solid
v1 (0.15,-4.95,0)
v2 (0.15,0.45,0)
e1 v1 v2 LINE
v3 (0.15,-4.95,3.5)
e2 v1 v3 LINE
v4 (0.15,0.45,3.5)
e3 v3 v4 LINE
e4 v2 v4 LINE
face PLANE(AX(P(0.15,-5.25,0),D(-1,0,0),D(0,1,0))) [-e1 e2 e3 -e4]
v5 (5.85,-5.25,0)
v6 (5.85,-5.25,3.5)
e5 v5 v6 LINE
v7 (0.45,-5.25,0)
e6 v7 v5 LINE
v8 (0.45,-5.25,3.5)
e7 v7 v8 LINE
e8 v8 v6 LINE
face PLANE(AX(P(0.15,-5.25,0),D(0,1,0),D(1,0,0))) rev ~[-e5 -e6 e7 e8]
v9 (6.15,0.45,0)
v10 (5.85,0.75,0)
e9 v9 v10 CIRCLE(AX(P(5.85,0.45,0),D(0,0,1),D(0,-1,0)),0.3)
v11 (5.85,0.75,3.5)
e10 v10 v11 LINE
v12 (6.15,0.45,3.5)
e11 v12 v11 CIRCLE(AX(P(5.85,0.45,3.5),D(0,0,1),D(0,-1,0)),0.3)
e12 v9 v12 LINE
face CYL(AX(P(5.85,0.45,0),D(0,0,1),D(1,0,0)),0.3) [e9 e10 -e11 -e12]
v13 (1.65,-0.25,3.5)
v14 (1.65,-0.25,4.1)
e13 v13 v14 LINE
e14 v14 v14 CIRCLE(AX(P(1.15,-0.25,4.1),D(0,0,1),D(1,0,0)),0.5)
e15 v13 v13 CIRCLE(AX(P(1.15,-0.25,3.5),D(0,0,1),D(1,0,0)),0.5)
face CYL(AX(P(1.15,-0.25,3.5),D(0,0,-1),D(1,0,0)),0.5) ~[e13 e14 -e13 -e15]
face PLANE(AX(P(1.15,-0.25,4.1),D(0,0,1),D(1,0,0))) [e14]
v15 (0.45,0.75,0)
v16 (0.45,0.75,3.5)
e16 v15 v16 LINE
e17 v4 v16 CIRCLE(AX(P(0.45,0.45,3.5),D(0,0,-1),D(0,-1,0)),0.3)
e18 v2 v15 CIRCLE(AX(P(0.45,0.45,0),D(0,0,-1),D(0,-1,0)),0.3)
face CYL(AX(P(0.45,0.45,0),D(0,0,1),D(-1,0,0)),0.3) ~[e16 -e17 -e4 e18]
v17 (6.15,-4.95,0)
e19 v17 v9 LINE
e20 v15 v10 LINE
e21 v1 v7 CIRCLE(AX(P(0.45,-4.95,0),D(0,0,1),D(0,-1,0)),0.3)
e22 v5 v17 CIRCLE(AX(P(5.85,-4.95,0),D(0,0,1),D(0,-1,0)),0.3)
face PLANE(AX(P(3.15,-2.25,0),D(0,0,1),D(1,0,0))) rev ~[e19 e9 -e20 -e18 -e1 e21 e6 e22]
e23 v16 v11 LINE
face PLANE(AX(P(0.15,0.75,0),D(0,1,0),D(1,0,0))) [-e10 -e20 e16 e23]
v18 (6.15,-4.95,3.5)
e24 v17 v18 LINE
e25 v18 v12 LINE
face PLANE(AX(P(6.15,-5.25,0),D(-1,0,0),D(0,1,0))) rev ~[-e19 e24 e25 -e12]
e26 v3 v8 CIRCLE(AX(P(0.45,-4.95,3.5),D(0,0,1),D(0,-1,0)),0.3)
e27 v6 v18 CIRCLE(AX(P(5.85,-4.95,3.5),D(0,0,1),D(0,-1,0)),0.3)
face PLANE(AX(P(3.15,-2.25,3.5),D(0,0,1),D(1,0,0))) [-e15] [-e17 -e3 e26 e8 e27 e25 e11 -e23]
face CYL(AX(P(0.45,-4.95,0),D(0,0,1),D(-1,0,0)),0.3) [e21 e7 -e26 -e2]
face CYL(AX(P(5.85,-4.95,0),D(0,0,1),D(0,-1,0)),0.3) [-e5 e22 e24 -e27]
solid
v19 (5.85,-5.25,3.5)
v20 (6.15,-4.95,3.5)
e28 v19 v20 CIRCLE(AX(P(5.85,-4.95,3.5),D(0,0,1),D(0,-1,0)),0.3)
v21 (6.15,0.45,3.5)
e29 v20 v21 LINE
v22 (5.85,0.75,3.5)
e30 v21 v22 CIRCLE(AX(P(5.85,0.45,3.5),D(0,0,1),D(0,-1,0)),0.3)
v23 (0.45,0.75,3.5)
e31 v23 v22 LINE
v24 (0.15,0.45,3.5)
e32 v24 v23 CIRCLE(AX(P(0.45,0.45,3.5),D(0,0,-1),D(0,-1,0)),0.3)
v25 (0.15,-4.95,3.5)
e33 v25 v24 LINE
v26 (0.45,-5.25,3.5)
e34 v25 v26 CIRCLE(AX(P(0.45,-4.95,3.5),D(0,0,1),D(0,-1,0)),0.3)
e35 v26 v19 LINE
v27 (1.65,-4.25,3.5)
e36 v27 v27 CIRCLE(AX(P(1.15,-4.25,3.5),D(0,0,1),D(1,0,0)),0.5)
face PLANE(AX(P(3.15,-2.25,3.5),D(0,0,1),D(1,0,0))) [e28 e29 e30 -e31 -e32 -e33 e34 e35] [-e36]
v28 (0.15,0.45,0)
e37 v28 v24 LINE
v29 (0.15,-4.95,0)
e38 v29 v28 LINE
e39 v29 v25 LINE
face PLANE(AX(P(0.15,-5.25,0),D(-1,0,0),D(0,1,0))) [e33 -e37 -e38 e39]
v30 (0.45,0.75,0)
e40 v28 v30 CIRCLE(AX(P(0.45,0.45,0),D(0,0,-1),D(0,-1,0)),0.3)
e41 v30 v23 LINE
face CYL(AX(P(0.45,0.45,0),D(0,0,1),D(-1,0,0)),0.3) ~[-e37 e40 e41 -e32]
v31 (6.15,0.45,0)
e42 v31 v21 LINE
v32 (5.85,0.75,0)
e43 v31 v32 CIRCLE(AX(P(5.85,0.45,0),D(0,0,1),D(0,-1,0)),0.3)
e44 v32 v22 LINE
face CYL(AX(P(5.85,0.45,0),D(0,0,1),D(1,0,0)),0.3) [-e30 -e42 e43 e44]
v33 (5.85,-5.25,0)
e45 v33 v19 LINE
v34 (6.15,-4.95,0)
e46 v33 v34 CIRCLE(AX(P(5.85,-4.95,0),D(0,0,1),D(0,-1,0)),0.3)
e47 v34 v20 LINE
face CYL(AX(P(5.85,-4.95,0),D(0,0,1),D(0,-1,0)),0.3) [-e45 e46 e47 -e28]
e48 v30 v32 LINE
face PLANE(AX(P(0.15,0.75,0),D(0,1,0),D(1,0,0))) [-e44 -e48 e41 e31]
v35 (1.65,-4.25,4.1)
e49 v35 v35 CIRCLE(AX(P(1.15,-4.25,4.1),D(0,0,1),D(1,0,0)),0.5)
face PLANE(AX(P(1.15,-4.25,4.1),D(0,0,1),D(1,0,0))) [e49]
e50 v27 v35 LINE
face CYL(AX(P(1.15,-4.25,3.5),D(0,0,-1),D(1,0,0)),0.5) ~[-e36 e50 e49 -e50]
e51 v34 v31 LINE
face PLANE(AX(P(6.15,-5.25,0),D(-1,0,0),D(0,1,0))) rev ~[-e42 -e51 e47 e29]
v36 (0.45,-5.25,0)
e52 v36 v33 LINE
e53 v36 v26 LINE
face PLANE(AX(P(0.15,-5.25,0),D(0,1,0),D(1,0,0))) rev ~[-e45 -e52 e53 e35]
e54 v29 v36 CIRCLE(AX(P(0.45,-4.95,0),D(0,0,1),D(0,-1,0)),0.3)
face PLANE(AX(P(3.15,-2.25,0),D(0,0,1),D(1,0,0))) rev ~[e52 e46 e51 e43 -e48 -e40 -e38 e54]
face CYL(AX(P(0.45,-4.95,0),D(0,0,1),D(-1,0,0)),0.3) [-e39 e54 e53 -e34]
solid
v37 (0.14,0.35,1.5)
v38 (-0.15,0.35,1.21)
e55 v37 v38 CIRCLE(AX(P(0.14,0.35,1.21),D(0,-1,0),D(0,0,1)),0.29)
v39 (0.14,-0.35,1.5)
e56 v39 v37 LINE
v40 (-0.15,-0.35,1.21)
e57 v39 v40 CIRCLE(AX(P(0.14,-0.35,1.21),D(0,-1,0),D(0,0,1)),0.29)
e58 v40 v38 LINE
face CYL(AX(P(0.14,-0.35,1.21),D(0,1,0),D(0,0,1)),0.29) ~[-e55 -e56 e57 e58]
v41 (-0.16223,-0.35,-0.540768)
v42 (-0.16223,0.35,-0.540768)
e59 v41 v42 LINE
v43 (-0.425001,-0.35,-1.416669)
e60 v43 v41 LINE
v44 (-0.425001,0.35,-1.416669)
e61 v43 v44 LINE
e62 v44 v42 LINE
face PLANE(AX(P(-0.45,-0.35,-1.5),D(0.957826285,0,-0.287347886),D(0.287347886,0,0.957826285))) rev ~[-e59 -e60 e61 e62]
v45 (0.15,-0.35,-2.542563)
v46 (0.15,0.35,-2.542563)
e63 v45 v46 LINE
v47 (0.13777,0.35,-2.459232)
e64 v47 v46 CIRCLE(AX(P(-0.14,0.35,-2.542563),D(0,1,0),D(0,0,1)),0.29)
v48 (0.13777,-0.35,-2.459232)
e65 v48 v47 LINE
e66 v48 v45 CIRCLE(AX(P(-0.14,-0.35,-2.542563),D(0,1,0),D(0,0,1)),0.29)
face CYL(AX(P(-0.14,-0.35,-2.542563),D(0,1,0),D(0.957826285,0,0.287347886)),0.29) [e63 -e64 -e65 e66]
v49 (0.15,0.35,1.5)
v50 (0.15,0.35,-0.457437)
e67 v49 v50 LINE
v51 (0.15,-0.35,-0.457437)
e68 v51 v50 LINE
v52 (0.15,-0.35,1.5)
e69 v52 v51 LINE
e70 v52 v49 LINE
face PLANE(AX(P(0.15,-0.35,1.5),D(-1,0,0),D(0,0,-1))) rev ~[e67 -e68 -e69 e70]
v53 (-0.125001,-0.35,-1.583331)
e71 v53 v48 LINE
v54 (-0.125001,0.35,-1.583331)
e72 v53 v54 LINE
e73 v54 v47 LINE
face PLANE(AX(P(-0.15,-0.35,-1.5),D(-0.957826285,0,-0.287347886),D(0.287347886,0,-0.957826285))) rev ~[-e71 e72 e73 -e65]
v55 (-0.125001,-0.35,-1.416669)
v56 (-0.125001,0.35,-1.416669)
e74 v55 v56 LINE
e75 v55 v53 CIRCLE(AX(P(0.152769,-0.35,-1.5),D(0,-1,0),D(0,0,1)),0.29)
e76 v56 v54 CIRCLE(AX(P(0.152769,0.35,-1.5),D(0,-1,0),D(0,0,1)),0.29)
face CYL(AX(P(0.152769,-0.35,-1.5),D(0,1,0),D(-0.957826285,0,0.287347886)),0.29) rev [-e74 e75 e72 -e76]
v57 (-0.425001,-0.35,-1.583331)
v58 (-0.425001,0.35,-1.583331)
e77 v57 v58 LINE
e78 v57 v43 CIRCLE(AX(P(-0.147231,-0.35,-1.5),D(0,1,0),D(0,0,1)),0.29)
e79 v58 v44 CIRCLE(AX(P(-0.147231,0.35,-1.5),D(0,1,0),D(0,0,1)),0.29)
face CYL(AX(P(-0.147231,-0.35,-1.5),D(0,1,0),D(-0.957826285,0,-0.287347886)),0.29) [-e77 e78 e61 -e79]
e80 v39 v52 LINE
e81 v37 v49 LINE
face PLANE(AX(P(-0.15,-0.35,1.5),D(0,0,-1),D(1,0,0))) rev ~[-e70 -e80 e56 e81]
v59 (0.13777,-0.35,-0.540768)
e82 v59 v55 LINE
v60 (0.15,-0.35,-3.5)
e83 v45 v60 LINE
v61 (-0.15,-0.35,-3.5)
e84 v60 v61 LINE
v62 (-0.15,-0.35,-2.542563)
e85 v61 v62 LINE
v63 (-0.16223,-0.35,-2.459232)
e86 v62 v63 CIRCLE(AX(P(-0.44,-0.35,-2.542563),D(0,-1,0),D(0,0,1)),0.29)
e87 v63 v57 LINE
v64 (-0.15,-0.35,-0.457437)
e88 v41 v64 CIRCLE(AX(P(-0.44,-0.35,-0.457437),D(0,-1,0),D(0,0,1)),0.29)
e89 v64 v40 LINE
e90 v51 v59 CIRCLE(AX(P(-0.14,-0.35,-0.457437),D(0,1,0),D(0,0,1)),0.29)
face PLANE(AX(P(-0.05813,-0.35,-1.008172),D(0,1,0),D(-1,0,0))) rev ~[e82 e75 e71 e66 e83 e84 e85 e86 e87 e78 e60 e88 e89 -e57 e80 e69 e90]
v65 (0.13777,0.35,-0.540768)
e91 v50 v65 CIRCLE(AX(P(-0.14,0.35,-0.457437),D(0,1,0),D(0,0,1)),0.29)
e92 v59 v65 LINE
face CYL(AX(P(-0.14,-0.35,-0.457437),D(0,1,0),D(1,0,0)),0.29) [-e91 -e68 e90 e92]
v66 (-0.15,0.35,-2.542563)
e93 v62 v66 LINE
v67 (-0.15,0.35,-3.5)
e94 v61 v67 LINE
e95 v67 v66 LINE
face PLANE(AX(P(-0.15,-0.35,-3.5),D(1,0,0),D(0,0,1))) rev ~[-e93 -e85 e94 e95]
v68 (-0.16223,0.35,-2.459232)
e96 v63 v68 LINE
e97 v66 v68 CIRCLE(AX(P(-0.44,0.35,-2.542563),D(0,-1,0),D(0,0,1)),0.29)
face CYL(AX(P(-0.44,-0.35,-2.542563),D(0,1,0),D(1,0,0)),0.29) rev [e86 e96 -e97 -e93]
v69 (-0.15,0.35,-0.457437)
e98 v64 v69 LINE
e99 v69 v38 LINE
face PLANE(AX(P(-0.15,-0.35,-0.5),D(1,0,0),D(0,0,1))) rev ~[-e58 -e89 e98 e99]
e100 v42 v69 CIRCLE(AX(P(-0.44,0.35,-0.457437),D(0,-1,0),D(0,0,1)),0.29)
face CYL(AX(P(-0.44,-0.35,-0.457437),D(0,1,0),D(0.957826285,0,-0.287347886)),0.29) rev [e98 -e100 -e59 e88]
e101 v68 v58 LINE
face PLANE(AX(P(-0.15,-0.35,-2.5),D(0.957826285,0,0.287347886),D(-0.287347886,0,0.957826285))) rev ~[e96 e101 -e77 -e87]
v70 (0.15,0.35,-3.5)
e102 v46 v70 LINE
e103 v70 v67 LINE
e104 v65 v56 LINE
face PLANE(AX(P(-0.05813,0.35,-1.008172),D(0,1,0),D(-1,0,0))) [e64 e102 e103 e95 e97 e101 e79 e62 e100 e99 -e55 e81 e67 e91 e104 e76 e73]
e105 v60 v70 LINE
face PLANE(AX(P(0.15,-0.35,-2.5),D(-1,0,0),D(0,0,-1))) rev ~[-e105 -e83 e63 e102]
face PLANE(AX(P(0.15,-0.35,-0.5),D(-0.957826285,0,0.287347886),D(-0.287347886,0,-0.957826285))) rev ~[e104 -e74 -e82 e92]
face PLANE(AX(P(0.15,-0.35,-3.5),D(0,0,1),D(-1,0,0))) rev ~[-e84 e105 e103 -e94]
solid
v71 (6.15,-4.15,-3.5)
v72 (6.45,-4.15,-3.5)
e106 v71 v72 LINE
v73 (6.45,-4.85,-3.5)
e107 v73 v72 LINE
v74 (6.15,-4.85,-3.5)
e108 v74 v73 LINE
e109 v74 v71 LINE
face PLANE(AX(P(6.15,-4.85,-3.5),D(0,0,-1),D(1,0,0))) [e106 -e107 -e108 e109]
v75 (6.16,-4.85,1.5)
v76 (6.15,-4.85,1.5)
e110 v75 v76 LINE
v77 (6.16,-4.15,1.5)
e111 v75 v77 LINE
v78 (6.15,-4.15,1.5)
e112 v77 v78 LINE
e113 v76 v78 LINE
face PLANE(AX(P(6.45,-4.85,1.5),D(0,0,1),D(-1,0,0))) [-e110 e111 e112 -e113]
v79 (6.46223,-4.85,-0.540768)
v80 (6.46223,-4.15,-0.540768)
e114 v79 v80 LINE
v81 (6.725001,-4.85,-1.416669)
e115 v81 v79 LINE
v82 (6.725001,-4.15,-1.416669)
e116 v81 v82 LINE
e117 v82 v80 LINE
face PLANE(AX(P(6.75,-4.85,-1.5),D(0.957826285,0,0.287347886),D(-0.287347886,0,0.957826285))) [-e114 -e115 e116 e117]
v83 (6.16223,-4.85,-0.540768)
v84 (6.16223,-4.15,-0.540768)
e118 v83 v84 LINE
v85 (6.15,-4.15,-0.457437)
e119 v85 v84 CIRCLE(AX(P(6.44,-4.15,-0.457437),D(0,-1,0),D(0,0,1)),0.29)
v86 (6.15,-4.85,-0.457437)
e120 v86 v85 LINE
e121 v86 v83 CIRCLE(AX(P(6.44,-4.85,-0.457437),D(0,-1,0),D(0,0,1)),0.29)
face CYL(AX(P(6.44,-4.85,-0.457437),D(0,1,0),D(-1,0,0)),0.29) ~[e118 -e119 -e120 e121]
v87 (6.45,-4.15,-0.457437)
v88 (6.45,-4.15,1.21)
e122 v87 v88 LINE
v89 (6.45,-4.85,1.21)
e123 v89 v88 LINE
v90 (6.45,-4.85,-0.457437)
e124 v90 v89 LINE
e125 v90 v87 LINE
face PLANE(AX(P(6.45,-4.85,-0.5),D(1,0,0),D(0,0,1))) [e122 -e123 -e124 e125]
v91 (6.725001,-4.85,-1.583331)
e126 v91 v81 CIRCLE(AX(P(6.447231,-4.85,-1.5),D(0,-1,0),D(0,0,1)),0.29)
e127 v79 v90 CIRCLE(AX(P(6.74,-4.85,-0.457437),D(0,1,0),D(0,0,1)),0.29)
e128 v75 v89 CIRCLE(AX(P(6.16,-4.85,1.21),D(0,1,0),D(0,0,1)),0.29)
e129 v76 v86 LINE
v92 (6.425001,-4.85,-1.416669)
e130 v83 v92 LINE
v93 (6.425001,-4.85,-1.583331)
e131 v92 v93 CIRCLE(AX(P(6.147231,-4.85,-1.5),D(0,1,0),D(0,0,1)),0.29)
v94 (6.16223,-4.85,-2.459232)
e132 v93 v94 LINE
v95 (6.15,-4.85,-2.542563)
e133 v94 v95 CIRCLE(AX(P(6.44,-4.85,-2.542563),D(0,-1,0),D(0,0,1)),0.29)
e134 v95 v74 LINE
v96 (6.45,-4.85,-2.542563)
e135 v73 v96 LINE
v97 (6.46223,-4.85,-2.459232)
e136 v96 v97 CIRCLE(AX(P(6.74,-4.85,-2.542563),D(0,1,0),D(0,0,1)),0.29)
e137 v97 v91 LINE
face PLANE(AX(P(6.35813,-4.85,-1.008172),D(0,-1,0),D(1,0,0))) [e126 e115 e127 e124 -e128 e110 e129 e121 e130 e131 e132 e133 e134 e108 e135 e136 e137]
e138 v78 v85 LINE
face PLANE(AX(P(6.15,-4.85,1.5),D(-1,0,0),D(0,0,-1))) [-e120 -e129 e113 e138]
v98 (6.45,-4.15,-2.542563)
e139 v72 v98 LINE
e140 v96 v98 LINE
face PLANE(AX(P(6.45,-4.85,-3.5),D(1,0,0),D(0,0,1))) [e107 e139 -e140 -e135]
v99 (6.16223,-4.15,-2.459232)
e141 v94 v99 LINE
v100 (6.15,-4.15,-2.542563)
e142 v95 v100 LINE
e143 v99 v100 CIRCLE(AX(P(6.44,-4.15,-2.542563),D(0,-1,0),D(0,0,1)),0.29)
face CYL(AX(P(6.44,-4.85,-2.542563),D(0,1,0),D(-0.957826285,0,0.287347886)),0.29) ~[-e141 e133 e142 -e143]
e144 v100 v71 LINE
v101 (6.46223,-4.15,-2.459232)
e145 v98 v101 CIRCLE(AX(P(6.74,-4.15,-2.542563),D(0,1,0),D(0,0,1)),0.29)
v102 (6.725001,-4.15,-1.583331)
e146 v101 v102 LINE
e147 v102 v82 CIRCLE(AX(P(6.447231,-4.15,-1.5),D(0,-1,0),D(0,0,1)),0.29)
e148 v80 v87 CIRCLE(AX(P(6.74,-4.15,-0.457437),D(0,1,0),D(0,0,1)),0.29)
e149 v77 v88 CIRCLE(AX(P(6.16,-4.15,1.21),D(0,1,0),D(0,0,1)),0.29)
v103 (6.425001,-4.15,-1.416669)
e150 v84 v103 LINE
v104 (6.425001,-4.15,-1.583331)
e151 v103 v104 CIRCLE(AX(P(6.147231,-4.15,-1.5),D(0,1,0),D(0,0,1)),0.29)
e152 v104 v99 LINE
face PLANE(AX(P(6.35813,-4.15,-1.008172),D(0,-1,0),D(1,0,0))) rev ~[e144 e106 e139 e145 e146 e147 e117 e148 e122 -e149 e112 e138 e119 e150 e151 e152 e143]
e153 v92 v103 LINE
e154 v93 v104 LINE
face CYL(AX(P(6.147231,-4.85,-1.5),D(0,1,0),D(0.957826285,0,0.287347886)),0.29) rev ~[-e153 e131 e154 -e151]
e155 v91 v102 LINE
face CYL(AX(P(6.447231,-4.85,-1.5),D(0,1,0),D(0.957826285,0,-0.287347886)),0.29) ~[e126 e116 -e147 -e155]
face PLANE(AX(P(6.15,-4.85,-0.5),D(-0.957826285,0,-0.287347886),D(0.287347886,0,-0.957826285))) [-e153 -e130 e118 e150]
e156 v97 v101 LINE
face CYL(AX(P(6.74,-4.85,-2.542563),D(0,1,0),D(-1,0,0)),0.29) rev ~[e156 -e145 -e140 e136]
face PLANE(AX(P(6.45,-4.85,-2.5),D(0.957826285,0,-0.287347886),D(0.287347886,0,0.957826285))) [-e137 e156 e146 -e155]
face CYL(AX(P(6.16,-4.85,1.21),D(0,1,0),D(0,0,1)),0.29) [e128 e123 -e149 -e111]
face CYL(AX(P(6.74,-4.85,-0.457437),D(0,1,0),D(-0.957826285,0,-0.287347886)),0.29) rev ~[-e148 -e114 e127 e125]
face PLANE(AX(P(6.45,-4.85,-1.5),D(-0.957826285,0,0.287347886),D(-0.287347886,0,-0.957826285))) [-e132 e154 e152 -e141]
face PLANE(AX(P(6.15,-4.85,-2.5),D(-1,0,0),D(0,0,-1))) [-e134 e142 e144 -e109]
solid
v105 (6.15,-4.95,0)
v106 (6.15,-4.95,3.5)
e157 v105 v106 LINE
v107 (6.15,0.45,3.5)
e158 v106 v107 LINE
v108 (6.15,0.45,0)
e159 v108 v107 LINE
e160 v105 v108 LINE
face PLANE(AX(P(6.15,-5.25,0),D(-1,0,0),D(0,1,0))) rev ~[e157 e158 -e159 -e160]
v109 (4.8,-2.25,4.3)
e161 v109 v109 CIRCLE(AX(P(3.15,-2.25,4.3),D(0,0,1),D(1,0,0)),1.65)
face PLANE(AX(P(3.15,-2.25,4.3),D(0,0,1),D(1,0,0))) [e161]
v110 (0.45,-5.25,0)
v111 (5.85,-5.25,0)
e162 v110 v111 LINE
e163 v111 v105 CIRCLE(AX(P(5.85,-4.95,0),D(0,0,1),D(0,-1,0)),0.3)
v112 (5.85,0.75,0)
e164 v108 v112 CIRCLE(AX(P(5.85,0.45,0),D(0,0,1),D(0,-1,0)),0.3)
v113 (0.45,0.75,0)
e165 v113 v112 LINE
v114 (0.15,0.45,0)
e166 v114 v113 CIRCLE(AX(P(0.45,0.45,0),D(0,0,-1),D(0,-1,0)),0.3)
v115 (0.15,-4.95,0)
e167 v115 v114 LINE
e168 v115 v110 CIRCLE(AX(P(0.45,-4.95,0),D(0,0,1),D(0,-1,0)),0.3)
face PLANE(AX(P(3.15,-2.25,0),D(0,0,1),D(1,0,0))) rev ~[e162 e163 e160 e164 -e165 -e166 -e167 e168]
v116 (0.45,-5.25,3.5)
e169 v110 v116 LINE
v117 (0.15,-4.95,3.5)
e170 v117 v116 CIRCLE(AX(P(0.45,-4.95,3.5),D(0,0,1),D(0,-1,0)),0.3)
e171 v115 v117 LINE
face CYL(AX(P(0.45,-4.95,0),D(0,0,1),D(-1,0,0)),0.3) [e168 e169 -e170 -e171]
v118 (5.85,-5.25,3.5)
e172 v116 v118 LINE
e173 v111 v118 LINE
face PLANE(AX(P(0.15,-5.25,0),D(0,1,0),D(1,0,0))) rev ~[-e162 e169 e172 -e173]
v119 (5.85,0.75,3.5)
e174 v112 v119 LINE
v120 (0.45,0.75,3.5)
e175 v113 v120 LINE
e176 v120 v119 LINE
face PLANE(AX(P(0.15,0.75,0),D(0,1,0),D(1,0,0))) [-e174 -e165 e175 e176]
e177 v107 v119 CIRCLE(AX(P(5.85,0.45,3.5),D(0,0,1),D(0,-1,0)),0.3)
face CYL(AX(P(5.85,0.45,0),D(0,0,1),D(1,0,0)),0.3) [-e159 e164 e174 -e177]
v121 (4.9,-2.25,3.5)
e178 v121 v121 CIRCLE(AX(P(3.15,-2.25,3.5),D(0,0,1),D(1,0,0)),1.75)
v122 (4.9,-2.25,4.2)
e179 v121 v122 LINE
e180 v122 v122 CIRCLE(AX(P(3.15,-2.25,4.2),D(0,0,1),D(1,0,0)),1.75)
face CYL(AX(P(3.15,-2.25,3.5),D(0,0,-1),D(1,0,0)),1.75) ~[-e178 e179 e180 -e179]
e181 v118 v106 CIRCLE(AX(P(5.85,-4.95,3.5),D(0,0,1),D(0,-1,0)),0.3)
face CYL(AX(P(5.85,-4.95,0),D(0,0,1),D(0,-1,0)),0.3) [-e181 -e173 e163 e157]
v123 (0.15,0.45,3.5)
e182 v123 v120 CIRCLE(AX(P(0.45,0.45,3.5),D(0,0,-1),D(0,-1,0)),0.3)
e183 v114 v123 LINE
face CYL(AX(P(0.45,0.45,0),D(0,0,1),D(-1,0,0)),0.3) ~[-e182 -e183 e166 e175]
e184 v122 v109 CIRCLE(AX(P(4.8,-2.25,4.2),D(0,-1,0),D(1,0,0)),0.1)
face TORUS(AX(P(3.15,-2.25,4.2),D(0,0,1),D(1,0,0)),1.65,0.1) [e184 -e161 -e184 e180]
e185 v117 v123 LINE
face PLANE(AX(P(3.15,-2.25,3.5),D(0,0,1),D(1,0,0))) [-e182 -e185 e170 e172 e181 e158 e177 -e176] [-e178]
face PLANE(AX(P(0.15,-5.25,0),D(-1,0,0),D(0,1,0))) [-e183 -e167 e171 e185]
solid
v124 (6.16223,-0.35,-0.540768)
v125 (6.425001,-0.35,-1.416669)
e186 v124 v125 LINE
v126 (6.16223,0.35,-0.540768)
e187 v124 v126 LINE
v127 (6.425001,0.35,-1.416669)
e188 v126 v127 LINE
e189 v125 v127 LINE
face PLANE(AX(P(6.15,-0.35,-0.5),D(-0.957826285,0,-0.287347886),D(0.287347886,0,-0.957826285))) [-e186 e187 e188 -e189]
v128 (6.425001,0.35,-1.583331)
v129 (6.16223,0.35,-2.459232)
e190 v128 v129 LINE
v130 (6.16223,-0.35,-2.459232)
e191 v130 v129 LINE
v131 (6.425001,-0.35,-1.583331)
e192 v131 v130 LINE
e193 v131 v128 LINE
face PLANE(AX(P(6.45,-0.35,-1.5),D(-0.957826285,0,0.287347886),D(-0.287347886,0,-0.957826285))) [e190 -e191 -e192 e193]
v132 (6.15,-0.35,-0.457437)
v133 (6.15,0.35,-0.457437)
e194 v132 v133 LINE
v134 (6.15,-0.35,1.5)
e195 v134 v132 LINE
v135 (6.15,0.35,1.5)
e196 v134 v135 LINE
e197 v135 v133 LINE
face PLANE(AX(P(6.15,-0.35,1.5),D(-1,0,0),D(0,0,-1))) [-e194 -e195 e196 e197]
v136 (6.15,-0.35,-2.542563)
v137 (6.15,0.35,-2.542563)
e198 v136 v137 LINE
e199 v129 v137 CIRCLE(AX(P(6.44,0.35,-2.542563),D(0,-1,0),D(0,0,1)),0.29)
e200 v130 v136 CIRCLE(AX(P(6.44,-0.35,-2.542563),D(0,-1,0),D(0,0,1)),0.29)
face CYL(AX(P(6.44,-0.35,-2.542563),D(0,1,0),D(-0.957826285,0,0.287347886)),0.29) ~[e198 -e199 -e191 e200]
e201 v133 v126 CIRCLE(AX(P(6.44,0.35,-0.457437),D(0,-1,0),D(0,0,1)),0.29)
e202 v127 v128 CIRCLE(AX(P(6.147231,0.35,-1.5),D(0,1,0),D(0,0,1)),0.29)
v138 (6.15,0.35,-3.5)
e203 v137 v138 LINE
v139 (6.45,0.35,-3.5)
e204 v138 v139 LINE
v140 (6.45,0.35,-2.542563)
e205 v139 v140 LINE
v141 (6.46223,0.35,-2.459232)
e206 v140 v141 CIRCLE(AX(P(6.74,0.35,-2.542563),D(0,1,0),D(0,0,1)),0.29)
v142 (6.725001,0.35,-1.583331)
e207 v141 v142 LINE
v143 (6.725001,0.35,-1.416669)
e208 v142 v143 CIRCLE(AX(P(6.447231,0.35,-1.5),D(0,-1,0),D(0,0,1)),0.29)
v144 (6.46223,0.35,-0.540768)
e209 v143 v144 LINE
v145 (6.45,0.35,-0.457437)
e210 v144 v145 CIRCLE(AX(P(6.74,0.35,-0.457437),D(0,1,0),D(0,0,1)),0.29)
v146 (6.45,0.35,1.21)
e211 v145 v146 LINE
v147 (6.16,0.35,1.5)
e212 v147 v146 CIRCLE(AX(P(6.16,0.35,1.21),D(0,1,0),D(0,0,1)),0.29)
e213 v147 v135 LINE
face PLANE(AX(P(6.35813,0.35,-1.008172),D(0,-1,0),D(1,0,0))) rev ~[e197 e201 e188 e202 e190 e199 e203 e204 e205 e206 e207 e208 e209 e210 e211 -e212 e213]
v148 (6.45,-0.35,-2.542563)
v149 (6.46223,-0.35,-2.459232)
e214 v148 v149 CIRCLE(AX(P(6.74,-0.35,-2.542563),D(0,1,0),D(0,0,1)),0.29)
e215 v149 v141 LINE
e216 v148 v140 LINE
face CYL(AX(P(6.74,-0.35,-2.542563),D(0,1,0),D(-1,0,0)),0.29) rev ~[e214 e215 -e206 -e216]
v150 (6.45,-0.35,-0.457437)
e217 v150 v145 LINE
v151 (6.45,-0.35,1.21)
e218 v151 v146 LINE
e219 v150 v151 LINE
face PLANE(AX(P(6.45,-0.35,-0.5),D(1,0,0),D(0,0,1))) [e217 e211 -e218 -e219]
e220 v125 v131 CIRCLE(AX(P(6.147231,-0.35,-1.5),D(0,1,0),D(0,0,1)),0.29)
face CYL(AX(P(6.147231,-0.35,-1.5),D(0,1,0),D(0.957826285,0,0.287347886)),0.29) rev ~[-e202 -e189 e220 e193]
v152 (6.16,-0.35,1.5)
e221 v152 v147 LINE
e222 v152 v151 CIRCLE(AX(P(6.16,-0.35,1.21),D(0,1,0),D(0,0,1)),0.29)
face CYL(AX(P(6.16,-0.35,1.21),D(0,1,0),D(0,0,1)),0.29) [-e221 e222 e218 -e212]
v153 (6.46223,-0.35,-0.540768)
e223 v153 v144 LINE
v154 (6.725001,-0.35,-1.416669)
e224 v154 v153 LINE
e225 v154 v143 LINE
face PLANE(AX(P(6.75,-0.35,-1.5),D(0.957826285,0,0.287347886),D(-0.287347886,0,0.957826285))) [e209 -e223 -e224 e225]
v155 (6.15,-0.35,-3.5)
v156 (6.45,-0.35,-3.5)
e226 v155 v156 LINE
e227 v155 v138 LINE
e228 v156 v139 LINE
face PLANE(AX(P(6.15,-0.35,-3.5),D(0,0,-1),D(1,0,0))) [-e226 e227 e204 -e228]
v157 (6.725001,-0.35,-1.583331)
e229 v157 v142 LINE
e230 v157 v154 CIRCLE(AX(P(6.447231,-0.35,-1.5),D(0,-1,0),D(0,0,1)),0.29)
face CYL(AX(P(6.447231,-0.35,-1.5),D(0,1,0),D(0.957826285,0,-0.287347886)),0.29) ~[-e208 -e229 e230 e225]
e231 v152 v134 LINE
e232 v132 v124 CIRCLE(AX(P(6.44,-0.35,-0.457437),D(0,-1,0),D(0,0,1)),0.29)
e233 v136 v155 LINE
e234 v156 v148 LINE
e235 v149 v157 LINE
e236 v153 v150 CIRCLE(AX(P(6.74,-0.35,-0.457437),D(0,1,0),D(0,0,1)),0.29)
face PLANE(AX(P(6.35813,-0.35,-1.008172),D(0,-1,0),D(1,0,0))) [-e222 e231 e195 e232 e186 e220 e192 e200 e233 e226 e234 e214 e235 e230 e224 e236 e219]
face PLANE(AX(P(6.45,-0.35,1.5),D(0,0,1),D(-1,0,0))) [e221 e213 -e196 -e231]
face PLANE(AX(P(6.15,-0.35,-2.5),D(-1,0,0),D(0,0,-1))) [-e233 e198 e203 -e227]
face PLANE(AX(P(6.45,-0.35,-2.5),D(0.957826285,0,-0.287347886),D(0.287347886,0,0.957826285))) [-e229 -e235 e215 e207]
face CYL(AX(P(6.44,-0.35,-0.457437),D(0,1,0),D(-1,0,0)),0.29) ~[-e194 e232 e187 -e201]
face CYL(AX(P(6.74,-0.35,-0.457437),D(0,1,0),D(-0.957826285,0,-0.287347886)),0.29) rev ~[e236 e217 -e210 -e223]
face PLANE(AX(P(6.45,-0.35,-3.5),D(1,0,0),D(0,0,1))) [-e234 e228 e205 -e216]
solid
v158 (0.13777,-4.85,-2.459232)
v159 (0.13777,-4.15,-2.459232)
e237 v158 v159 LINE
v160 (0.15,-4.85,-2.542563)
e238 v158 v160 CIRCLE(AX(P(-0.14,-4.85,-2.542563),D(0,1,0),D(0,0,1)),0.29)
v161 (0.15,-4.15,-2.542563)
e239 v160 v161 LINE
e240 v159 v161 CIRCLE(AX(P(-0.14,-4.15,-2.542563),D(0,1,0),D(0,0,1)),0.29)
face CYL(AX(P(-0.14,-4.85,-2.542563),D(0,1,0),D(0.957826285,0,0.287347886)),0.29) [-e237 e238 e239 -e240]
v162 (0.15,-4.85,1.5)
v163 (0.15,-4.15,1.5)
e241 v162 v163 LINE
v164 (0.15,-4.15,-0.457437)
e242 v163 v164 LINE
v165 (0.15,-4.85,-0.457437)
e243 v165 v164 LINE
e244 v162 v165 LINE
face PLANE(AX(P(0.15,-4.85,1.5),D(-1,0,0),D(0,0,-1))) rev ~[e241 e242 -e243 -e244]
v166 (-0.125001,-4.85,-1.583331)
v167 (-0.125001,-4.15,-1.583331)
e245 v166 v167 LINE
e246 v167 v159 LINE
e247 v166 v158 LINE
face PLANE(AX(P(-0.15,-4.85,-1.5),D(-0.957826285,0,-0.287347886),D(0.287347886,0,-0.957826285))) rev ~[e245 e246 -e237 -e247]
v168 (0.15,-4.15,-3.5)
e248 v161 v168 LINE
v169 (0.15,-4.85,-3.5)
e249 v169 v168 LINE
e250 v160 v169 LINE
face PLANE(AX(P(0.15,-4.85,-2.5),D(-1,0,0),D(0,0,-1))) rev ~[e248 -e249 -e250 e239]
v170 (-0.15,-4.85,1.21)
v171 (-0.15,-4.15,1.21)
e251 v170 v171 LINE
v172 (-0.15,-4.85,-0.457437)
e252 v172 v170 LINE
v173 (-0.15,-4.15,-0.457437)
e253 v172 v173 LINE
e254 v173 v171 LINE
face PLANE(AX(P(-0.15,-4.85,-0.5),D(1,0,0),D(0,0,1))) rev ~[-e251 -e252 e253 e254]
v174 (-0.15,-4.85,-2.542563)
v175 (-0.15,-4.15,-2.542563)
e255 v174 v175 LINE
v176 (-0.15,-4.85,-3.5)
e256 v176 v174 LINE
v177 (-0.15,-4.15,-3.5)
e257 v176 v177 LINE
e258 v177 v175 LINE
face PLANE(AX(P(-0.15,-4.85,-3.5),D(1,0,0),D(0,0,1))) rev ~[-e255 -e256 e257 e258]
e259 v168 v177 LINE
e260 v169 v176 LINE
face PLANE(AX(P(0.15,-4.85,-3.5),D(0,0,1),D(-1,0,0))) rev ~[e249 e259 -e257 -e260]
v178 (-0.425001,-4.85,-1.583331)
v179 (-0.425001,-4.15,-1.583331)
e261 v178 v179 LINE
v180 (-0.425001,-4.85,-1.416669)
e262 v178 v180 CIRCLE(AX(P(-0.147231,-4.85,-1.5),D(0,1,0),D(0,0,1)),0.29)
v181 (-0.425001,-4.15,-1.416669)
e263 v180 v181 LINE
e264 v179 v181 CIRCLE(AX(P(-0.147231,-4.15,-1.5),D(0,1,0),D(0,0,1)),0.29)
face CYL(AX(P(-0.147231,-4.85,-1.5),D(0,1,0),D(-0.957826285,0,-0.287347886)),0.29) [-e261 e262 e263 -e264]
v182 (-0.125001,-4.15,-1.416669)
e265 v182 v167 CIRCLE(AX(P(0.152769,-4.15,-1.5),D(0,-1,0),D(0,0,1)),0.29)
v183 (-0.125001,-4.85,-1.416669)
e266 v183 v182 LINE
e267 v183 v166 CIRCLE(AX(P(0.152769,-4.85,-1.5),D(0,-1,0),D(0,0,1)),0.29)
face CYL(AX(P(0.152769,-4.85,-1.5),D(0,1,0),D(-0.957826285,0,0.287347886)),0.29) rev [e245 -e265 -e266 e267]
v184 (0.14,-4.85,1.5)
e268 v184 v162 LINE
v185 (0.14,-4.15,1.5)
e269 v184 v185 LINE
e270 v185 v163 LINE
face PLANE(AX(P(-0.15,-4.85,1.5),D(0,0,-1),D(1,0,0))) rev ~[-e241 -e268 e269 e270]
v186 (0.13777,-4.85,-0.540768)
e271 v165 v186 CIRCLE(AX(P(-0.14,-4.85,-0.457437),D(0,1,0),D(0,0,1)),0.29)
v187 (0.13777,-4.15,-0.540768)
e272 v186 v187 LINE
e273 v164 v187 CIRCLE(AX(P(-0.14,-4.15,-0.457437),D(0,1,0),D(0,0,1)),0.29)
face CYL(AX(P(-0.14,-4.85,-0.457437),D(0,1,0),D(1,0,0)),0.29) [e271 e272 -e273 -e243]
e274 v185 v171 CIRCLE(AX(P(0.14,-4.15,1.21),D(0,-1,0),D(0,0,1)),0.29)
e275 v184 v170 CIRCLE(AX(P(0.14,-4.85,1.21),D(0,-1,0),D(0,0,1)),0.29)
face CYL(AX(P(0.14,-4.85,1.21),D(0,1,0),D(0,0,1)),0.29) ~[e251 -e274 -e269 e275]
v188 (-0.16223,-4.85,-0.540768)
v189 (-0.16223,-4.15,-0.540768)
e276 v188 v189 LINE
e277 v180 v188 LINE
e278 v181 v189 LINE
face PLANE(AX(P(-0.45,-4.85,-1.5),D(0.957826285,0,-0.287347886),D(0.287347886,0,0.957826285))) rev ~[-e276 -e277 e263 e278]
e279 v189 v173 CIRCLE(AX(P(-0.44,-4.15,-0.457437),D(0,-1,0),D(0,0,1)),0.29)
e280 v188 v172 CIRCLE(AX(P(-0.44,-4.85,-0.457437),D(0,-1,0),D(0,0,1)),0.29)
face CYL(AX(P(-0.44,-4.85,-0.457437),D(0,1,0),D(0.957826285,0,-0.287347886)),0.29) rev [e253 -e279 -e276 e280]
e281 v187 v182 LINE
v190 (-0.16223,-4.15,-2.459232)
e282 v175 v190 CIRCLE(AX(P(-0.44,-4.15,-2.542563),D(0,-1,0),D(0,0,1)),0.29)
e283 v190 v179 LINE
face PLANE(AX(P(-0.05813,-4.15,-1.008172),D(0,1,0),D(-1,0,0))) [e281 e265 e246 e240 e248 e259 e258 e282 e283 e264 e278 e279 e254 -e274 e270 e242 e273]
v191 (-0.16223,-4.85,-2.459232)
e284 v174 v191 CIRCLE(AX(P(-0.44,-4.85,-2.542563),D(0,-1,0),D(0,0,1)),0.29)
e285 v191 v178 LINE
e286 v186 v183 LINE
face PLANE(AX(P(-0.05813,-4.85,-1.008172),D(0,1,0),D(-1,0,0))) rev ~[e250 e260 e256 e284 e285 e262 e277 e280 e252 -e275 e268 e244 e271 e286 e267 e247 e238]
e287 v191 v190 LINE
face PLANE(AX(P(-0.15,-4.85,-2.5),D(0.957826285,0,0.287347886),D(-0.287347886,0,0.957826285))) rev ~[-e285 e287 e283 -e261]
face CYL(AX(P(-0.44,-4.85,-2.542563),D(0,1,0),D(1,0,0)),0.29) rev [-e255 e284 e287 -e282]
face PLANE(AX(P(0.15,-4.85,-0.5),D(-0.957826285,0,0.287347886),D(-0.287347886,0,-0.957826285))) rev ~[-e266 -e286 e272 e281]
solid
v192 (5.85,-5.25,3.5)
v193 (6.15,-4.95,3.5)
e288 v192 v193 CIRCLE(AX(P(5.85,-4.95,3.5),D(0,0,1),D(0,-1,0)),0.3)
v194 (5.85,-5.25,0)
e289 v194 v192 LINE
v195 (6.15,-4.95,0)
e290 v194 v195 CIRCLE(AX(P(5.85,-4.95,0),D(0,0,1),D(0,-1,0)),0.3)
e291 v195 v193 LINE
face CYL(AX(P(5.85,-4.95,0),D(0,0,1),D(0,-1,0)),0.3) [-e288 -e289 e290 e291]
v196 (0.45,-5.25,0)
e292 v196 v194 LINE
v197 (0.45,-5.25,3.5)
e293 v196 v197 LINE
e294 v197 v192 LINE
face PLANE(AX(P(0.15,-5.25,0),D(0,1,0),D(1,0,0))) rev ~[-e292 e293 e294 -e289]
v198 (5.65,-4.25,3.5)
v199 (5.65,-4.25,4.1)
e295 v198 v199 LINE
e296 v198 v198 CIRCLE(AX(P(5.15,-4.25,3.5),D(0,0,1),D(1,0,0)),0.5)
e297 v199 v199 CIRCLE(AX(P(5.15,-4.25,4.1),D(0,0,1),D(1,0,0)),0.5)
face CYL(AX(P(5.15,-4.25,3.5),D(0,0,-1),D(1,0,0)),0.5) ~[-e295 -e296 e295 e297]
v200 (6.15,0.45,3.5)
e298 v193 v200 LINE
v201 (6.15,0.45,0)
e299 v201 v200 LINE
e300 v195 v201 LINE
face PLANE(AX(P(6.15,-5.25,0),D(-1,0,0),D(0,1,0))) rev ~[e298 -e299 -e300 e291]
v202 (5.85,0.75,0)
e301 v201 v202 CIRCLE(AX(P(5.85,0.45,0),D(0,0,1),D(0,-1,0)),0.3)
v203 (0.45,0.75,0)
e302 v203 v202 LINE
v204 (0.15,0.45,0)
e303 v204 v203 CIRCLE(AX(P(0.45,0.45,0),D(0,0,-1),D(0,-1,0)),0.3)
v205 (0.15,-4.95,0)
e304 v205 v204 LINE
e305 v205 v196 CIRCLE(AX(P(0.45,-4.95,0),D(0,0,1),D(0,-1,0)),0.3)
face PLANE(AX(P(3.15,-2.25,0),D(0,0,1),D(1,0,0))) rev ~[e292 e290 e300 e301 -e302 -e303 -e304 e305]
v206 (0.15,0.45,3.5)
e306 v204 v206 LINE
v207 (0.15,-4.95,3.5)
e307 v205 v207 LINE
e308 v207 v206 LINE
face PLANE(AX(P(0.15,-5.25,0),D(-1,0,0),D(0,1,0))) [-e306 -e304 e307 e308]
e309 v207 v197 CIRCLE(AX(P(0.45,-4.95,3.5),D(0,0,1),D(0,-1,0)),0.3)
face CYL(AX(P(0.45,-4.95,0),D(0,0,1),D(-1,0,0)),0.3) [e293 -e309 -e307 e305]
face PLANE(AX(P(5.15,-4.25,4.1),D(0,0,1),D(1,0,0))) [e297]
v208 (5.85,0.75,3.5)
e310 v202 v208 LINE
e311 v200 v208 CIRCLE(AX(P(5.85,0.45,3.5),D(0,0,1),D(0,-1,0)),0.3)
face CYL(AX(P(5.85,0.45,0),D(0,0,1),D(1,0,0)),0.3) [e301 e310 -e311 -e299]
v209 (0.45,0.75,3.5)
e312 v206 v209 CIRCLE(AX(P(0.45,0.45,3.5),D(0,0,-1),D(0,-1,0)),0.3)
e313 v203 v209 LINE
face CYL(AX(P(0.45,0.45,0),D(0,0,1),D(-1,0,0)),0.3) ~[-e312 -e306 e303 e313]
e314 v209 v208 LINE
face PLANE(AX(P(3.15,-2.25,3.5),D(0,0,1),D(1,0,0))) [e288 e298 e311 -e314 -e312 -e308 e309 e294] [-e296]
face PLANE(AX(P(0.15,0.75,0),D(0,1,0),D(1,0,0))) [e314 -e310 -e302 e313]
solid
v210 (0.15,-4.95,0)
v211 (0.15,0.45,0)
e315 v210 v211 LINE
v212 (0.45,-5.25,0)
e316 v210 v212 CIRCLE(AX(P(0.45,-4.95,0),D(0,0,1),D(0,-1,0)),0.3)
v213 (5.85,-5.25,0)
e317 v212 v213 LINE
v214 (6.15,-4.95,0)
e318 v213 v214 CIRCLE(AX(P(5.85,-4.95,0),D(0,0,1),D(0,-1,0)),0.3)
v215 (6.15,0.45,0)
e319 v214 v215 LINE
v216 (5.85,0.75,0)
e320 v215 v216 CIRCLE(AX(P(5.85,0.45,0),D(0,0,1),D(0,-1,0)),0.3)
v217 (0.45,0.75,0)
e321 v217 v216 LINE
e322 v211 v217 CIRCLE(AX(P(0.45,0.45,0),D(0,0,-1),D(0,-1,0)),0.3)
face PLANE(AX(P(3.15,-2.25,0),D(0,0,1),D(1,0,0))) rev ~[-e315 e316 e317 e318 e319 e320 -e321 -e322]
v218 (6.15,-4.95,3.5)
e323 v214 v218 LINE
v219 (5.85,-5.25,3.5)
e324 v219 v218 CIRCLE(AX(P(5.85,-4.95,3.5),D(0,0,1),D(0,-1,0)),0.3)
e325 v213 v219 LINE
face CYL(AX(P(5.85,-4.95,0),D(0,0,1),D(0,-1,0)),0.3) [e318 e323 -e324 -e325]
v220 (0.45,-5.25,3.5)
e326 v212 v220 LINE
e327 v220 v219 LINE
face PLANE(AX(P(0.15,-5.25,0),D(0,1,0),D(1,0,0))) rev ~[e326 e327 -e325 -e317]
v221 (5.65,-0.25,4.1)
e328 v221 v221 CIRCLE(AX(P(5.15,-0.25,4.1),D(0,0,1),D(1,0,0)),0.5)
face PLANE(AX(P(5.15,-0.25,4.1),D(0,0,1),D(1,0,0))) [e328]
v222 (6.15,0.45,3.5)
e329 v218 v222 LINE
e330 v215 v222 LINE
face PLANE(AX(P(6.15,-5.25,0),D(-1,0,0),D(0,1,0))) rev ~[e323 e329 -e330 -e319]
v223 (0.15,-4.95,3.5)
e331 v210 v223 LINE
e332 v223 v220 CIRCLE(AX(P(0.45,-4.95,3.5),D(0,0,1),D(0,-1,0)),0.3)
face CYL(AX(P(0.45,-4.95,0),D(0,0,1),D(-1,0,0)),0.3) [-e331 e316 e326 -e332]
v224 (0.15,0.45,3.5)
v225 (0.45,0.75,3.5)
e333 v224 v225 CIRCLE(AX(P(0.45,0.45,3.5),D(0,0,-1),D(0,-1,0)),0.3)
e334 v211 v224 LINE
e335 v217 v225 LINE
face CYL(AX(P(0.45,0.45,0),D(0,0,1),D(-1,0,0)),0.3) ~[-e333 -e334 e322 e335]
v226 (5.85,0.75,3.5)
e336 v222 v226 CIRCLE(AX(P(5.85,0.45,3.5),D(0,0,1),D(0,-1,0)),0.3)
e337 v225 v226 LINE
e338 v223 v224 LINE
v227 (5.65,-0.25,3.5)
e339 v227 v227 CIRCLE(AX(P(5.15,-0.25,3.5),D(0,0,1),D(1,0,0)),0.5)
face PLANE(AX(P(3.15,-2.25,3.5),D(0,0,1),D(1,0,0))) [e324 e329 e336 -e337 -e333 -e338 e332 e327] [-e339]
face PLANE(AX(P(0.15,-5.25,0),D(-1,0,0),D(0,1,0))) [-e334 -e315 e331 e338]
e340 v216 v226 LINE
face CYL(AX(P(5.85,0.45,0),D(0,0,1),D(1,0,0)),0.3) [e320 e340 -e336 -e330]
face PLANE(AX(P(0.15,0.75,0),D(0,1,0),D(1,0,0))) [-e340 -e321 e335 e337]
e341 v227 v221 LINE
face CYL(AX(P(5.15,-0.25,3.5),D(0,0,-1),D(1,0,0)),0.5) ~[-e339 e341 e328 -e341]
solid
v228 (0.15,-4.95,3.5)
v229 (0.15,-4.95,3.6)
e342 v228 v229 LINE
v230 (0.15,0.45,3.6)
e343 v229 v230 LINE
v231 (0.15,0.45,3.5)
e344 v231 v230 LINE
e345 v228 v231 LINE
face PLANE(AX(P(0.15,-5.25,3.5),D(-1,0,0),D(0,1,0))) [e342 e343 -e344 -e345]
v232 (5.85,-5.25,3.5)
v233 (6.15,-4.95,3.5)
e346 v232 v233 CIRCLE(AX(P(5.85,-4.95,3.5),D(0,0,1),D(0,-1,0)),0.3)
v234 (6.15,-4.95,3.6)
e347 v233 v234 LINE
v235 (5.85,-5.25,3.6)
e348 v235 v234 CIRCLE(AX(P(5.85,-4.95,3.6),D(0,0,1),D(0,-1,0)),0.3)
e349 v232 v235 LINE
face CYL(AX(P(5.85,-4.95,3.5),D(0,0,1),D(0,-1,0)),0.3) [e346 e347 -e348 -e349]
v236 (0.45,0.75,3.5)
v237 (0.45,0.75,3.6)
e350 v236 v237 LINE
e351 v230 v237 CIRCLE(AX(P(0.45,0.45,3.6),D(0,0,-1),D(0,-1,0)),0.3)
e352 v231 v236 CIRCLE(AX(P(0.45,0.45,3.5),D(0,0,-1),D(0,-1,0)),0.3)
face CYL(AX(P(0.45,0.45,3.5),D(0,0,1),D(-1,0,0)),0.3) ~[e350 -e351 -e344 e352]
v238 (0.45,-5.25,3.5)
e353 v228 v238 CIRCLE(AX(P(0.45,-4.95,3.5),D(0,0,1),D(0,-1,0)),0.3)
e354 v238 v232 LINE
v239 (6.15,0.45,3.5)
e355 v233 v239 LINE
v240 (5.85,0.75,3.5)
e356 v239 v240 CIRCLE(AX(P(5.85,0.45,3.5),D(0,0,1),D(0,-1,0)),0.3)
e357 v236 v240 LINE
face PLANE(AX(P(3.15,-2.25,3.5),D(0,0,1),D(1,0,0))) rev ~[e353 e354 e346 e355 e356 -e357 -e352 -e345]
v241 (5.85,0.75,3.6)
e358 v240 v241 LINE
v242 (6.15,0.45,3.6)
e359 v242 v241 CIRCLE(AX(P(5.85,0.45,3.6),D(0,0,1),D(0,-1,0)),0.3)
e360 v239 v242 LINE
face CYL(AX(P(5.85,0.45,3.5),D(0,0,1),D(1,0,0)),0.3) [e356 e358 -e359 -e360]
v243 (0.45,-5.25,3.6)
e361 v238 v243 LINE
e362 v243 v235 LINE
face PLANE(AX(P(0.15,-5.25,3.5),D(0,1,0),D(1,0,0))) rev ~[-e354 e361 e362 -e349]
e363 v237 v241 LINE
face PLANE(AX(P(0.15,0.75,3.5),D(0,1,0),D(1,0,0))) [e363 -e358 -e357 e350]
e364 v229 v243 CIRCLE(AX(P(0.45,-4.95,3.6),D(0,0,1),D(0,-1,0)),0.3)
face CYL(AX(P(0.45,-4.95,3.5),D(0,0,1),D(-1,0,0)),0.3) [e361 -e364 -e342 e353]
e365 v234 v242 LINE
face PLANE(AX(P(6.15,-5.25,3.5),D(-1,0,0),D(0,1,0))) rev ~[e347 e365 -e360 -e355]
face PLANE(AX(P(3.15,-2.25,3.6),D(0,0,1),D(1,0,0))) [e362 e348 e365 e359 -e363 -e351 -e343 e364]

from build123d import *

# Parameters (mm, degrees)
SKETCH001_W  = 6
SKETCH001_H  = 6
PAD001_DEPTH = 0.1
FILLET001_R  = 0.3
SKETCH_W     = 6
SKETCH_H     = 6
PAD_DEPTH    = 3.5
FILLET_R     = 0.3
SKETCH005_R  = 0.5
PAD002_DEPTH = 0.6
SKETCH004_R  = 0.5
PAD003_DEPTH = 0.6
SKETCH003_R  = 0.5
PAD004_DEPTH = 0.6
SKETCH002_R  = 0.5
PAD005_DEPTH = 0.6
PAD007_DEPTH = 0.7
FILLET002_R  = 0.29
PAD008_DEPTH = 0.7
FILLET003_R  = 0.29
PAD009_DEPTH = 0.7
FILLET004_R  = 0.29
PAD010_DEPTH = 0.7
FILLET005_R  = 0.29
SKETCH006_R  = 1.75
PAD006_DEPTH = 0.8
FILLET006_R  = 0.1


with BuildPart() as fillet001:
    # Sketch001 → Pad001 (new body)
    with BuildSketch(Plane.XY.offset(3.5)):
        with Locations((3.15, -2.25)):
            Rectangle(SKETCH001_W, SKETCH001_H)
    extrude(amount=PAD001_DEPTH)

    # Fillet001
    fillet001_edges = [fillet001.edges().sort_by_distance(p)[0] for p in [
        (6.15, -5.25, 3.55),
        (0.15, -5.25, 3.55),
        (6.15, 0.75, 3.55),
        (0.15, 0.75, 3.55),
    ]]
    fillet(fillet001_edges, radius=FILLET001_R)


with BuildPart() as fillet_body:
    # Sketch → Pad (new body)
    with BuildSketch(Plane.XY):
        with Locations((3.15, -2.25)):
            Rectangle(SKETCH_W, SKETCH_H)
    extrude(amount=PAD_DEPTH)

    # Fillet
    fillet_edges = [fillet_body.edges().sort_by_distance(p)[0] for p in [
        (6.15, 0.75, 1.75),
        (6.15, -5.25, 1.75),
        (0.15, -5.25, 1.75),
        (0.15, 0.75, 1.75),
    ]]
    fillet(fillet_edges, radius=FILLET_R)


with BuildPart() as pad002:
    # Pad002 base: copy of Fillet body
    add(fillet_body.part)

    # Sketch005 → Pad002 (new body)
    with BuildSketch(Plane.XY.offset(3.5)):
        with Locations((1.15, -0.25)):
            Circle(SKETCH005_R)
    extrude(amount=PAD002_DEPTH)


with BuildPart() as pad003:
    # Pad003 base: copy of Fillet body
    add(fillet_body.part)

    # Sketch004 → Pad003 (new body)
    with BuildSketch(Plane.XY.offset(3.5)):
        with Locations((5.15, -0.25)):
            Circle(SKETCH004_R)
    extrude(amount=PAD003_DEPTH)


with BuildPart() as pad004:
    # Pad004 base: copy of Fillet body
    add(fillet_body.part)

    # Sketch003 → Pad004 (new body)
    with BuildSketch(Plane.XY.offset(3.5)):
        with Locations((5.15, -4.25)):
            Circle(SKETCH003_R)
    extrude(amount=PAD004_DEPTH)


with BuildPart() as pad005:
    # Pad005 base: copy of Fillet body
    add(fillet_body.part)

    # Sketch002 → Pad005 (new body)
    with BuildSketch(Plane.XY.offset(3.5)):
        with Locations((1.15, -4.25)):
            Circle(SKETCH002_R)
    extrude(amount=PAD005_DEPTH)


with BuildPart() as fillet002:
    # Sketch007 → Pad007 (new body)
    with BuildSketch(Plane.XZ.offset(4.85)):
        Polygon((-0.15, 1.5), (0.15, 1.5), (0.15, -0.5), (-0.15, -1.5), (0.15, -2.5), (0.15, -3.5), (-0.15, -3.5), (-0.15, -2.5), (-0.45, -1.5), (-0.15, -0.5), align=None)
    extrude(amount=-PAD007_DEPTH)

    # Fillet002
    fillet002_edges = [fillet002.edges().sort_by_distance(p)[0] for p in [
        (-0.15, -4.5, -2.5),
        (-0.15, -4.5, -0.5),
        (-0.45, -4.5, -1.5),
        (-0.15, -4.5, 1.5),
        (0.15, -4.5, -0.5),
        (-0.15, -4.5, -1.5),
        (0.15, -4.5, -2.5),
    ]]
    fillet(fillet002_edges, radius=FILLET002_R)


with BuildPart() as fillet003:
    # Sketch008 → Pad008 (new body)
    with BuildSketch(Plane.XZ.offset(0.35)):
        Polygon((-0.15, 1.5), (0.15, 1.5), (0.15, -0.5), (-0.15, -1.5), (0.15, -2.5), (0.15, -3.5), (-0.15, -3.5), (-0.15, -2.5), (-0.45, -1.5), (-0.15, -0.5), align=None)
    extrude(amount=-PAD008_DEPTH)

    # Fillet003
    fillet003_edges = [fillet003.edges().sort_by_distance(p)[0] for p in [
        (-0.15, 0, -2.5),
        (-0.15, 0, -0.5),
        (-0.45, 0, -1.5),
        (-0.15, 0, 1.5),
        (0.15, 0, -0.5),
        (-0.15, 0, -1.5),
        (0.15, 0, -2.5),
    ]]
    fillet(fillet003_edges, radius=FILLET003_R)


with BuildPart() as fillet004:
    # Sketch009 → Pad009 (new body)
    with BuildSketch(Plane.XZ.offset(4.85)):
        Polygon((6.45, 1.5), (6.15, 1.5), (6.15, -0.5), (6.45, -1.5), (6.15, -2.5), (6.15, -3.5), (6.45, -3.5), (6.45, -2.5), (6.75, -1.5), (6.45, -0.5), align=None)
    extrude(amount=-PAD009_DEPTH)

    # Fillet004
    fillet004_edges = [fillet004.edges().sort_by_distance(p)[0] for p in [
        (6.45, -4.5, -2.5),
        (6.45, -4.5, -0.5),
        (6.75, -4.5, -1.5),
        (6.45, -4.5, 1.5),
        (6.15, -4.5, -0.5),
        (6.45, -4.5, -1.5),
        (6.15, -4.5, -2.5),
    ]]
    fillet(fillet004_edges, radius=FILLET004_R)


with BuildPart() as fillet005:
    # Sketch010 → Pad010 (new body)
    with BuildSketch(Plane.XZ.offset(0.35)):
        Polygon((6.45, 1.5), (6.15, 1.5), (6.15, -0.5), (6.45, -1.5), (6.15, -2.5), (6.15, -3.5), (6.45, -3.5), (6.45, -2.5), (6.75, -1.5), (6.45, -0.5), align=None)
    extrude(amount=-PAD010_DEPTH)

    # Fillet005
    fillet005_edges = [fillet005.edges().sort_by_distance(p)[0] for p in [
        (6.45, 0, -2.5),
        (6.45, 0, -0.5),
        (6.75, 0, -1.5),
        (6.45, 0, 1.5),
        (6.15, 0, -0.5),
        (6.45, 0, -1.5),
        (6.15, 0, -2.5),
    ]]
    fillet(fillet005_edges, radius=FILLET005_R)


with BuildPart() as fillet006:
    # Pad006 base: copy of Fillet body
    add(fillet_body.part)

    # Sketch006 → Pad006 (new body)
    with BuildSketch(Plane.XY.offset(3.5)):
        with Locations((3.15, -2.25)):
            Circle(SKETCH006_R)
    extrude(amount=PAD006_DEPTH)

    # Fillet006
    fillet006_edges = [fillet006.edges().sort_by_distance(p)[0] for p in [
        (1.4, -2.25, 4.3),
    ]]
    fillet(fillet006_edges, radius=FILLET006_R)


solid = Compound([fillet001.part, pad002.part, pad003.part, pad004.part, pad005.part, fillet002.part, fillet003.part, fillet004.part, fillet005.part, fillet006.part])
